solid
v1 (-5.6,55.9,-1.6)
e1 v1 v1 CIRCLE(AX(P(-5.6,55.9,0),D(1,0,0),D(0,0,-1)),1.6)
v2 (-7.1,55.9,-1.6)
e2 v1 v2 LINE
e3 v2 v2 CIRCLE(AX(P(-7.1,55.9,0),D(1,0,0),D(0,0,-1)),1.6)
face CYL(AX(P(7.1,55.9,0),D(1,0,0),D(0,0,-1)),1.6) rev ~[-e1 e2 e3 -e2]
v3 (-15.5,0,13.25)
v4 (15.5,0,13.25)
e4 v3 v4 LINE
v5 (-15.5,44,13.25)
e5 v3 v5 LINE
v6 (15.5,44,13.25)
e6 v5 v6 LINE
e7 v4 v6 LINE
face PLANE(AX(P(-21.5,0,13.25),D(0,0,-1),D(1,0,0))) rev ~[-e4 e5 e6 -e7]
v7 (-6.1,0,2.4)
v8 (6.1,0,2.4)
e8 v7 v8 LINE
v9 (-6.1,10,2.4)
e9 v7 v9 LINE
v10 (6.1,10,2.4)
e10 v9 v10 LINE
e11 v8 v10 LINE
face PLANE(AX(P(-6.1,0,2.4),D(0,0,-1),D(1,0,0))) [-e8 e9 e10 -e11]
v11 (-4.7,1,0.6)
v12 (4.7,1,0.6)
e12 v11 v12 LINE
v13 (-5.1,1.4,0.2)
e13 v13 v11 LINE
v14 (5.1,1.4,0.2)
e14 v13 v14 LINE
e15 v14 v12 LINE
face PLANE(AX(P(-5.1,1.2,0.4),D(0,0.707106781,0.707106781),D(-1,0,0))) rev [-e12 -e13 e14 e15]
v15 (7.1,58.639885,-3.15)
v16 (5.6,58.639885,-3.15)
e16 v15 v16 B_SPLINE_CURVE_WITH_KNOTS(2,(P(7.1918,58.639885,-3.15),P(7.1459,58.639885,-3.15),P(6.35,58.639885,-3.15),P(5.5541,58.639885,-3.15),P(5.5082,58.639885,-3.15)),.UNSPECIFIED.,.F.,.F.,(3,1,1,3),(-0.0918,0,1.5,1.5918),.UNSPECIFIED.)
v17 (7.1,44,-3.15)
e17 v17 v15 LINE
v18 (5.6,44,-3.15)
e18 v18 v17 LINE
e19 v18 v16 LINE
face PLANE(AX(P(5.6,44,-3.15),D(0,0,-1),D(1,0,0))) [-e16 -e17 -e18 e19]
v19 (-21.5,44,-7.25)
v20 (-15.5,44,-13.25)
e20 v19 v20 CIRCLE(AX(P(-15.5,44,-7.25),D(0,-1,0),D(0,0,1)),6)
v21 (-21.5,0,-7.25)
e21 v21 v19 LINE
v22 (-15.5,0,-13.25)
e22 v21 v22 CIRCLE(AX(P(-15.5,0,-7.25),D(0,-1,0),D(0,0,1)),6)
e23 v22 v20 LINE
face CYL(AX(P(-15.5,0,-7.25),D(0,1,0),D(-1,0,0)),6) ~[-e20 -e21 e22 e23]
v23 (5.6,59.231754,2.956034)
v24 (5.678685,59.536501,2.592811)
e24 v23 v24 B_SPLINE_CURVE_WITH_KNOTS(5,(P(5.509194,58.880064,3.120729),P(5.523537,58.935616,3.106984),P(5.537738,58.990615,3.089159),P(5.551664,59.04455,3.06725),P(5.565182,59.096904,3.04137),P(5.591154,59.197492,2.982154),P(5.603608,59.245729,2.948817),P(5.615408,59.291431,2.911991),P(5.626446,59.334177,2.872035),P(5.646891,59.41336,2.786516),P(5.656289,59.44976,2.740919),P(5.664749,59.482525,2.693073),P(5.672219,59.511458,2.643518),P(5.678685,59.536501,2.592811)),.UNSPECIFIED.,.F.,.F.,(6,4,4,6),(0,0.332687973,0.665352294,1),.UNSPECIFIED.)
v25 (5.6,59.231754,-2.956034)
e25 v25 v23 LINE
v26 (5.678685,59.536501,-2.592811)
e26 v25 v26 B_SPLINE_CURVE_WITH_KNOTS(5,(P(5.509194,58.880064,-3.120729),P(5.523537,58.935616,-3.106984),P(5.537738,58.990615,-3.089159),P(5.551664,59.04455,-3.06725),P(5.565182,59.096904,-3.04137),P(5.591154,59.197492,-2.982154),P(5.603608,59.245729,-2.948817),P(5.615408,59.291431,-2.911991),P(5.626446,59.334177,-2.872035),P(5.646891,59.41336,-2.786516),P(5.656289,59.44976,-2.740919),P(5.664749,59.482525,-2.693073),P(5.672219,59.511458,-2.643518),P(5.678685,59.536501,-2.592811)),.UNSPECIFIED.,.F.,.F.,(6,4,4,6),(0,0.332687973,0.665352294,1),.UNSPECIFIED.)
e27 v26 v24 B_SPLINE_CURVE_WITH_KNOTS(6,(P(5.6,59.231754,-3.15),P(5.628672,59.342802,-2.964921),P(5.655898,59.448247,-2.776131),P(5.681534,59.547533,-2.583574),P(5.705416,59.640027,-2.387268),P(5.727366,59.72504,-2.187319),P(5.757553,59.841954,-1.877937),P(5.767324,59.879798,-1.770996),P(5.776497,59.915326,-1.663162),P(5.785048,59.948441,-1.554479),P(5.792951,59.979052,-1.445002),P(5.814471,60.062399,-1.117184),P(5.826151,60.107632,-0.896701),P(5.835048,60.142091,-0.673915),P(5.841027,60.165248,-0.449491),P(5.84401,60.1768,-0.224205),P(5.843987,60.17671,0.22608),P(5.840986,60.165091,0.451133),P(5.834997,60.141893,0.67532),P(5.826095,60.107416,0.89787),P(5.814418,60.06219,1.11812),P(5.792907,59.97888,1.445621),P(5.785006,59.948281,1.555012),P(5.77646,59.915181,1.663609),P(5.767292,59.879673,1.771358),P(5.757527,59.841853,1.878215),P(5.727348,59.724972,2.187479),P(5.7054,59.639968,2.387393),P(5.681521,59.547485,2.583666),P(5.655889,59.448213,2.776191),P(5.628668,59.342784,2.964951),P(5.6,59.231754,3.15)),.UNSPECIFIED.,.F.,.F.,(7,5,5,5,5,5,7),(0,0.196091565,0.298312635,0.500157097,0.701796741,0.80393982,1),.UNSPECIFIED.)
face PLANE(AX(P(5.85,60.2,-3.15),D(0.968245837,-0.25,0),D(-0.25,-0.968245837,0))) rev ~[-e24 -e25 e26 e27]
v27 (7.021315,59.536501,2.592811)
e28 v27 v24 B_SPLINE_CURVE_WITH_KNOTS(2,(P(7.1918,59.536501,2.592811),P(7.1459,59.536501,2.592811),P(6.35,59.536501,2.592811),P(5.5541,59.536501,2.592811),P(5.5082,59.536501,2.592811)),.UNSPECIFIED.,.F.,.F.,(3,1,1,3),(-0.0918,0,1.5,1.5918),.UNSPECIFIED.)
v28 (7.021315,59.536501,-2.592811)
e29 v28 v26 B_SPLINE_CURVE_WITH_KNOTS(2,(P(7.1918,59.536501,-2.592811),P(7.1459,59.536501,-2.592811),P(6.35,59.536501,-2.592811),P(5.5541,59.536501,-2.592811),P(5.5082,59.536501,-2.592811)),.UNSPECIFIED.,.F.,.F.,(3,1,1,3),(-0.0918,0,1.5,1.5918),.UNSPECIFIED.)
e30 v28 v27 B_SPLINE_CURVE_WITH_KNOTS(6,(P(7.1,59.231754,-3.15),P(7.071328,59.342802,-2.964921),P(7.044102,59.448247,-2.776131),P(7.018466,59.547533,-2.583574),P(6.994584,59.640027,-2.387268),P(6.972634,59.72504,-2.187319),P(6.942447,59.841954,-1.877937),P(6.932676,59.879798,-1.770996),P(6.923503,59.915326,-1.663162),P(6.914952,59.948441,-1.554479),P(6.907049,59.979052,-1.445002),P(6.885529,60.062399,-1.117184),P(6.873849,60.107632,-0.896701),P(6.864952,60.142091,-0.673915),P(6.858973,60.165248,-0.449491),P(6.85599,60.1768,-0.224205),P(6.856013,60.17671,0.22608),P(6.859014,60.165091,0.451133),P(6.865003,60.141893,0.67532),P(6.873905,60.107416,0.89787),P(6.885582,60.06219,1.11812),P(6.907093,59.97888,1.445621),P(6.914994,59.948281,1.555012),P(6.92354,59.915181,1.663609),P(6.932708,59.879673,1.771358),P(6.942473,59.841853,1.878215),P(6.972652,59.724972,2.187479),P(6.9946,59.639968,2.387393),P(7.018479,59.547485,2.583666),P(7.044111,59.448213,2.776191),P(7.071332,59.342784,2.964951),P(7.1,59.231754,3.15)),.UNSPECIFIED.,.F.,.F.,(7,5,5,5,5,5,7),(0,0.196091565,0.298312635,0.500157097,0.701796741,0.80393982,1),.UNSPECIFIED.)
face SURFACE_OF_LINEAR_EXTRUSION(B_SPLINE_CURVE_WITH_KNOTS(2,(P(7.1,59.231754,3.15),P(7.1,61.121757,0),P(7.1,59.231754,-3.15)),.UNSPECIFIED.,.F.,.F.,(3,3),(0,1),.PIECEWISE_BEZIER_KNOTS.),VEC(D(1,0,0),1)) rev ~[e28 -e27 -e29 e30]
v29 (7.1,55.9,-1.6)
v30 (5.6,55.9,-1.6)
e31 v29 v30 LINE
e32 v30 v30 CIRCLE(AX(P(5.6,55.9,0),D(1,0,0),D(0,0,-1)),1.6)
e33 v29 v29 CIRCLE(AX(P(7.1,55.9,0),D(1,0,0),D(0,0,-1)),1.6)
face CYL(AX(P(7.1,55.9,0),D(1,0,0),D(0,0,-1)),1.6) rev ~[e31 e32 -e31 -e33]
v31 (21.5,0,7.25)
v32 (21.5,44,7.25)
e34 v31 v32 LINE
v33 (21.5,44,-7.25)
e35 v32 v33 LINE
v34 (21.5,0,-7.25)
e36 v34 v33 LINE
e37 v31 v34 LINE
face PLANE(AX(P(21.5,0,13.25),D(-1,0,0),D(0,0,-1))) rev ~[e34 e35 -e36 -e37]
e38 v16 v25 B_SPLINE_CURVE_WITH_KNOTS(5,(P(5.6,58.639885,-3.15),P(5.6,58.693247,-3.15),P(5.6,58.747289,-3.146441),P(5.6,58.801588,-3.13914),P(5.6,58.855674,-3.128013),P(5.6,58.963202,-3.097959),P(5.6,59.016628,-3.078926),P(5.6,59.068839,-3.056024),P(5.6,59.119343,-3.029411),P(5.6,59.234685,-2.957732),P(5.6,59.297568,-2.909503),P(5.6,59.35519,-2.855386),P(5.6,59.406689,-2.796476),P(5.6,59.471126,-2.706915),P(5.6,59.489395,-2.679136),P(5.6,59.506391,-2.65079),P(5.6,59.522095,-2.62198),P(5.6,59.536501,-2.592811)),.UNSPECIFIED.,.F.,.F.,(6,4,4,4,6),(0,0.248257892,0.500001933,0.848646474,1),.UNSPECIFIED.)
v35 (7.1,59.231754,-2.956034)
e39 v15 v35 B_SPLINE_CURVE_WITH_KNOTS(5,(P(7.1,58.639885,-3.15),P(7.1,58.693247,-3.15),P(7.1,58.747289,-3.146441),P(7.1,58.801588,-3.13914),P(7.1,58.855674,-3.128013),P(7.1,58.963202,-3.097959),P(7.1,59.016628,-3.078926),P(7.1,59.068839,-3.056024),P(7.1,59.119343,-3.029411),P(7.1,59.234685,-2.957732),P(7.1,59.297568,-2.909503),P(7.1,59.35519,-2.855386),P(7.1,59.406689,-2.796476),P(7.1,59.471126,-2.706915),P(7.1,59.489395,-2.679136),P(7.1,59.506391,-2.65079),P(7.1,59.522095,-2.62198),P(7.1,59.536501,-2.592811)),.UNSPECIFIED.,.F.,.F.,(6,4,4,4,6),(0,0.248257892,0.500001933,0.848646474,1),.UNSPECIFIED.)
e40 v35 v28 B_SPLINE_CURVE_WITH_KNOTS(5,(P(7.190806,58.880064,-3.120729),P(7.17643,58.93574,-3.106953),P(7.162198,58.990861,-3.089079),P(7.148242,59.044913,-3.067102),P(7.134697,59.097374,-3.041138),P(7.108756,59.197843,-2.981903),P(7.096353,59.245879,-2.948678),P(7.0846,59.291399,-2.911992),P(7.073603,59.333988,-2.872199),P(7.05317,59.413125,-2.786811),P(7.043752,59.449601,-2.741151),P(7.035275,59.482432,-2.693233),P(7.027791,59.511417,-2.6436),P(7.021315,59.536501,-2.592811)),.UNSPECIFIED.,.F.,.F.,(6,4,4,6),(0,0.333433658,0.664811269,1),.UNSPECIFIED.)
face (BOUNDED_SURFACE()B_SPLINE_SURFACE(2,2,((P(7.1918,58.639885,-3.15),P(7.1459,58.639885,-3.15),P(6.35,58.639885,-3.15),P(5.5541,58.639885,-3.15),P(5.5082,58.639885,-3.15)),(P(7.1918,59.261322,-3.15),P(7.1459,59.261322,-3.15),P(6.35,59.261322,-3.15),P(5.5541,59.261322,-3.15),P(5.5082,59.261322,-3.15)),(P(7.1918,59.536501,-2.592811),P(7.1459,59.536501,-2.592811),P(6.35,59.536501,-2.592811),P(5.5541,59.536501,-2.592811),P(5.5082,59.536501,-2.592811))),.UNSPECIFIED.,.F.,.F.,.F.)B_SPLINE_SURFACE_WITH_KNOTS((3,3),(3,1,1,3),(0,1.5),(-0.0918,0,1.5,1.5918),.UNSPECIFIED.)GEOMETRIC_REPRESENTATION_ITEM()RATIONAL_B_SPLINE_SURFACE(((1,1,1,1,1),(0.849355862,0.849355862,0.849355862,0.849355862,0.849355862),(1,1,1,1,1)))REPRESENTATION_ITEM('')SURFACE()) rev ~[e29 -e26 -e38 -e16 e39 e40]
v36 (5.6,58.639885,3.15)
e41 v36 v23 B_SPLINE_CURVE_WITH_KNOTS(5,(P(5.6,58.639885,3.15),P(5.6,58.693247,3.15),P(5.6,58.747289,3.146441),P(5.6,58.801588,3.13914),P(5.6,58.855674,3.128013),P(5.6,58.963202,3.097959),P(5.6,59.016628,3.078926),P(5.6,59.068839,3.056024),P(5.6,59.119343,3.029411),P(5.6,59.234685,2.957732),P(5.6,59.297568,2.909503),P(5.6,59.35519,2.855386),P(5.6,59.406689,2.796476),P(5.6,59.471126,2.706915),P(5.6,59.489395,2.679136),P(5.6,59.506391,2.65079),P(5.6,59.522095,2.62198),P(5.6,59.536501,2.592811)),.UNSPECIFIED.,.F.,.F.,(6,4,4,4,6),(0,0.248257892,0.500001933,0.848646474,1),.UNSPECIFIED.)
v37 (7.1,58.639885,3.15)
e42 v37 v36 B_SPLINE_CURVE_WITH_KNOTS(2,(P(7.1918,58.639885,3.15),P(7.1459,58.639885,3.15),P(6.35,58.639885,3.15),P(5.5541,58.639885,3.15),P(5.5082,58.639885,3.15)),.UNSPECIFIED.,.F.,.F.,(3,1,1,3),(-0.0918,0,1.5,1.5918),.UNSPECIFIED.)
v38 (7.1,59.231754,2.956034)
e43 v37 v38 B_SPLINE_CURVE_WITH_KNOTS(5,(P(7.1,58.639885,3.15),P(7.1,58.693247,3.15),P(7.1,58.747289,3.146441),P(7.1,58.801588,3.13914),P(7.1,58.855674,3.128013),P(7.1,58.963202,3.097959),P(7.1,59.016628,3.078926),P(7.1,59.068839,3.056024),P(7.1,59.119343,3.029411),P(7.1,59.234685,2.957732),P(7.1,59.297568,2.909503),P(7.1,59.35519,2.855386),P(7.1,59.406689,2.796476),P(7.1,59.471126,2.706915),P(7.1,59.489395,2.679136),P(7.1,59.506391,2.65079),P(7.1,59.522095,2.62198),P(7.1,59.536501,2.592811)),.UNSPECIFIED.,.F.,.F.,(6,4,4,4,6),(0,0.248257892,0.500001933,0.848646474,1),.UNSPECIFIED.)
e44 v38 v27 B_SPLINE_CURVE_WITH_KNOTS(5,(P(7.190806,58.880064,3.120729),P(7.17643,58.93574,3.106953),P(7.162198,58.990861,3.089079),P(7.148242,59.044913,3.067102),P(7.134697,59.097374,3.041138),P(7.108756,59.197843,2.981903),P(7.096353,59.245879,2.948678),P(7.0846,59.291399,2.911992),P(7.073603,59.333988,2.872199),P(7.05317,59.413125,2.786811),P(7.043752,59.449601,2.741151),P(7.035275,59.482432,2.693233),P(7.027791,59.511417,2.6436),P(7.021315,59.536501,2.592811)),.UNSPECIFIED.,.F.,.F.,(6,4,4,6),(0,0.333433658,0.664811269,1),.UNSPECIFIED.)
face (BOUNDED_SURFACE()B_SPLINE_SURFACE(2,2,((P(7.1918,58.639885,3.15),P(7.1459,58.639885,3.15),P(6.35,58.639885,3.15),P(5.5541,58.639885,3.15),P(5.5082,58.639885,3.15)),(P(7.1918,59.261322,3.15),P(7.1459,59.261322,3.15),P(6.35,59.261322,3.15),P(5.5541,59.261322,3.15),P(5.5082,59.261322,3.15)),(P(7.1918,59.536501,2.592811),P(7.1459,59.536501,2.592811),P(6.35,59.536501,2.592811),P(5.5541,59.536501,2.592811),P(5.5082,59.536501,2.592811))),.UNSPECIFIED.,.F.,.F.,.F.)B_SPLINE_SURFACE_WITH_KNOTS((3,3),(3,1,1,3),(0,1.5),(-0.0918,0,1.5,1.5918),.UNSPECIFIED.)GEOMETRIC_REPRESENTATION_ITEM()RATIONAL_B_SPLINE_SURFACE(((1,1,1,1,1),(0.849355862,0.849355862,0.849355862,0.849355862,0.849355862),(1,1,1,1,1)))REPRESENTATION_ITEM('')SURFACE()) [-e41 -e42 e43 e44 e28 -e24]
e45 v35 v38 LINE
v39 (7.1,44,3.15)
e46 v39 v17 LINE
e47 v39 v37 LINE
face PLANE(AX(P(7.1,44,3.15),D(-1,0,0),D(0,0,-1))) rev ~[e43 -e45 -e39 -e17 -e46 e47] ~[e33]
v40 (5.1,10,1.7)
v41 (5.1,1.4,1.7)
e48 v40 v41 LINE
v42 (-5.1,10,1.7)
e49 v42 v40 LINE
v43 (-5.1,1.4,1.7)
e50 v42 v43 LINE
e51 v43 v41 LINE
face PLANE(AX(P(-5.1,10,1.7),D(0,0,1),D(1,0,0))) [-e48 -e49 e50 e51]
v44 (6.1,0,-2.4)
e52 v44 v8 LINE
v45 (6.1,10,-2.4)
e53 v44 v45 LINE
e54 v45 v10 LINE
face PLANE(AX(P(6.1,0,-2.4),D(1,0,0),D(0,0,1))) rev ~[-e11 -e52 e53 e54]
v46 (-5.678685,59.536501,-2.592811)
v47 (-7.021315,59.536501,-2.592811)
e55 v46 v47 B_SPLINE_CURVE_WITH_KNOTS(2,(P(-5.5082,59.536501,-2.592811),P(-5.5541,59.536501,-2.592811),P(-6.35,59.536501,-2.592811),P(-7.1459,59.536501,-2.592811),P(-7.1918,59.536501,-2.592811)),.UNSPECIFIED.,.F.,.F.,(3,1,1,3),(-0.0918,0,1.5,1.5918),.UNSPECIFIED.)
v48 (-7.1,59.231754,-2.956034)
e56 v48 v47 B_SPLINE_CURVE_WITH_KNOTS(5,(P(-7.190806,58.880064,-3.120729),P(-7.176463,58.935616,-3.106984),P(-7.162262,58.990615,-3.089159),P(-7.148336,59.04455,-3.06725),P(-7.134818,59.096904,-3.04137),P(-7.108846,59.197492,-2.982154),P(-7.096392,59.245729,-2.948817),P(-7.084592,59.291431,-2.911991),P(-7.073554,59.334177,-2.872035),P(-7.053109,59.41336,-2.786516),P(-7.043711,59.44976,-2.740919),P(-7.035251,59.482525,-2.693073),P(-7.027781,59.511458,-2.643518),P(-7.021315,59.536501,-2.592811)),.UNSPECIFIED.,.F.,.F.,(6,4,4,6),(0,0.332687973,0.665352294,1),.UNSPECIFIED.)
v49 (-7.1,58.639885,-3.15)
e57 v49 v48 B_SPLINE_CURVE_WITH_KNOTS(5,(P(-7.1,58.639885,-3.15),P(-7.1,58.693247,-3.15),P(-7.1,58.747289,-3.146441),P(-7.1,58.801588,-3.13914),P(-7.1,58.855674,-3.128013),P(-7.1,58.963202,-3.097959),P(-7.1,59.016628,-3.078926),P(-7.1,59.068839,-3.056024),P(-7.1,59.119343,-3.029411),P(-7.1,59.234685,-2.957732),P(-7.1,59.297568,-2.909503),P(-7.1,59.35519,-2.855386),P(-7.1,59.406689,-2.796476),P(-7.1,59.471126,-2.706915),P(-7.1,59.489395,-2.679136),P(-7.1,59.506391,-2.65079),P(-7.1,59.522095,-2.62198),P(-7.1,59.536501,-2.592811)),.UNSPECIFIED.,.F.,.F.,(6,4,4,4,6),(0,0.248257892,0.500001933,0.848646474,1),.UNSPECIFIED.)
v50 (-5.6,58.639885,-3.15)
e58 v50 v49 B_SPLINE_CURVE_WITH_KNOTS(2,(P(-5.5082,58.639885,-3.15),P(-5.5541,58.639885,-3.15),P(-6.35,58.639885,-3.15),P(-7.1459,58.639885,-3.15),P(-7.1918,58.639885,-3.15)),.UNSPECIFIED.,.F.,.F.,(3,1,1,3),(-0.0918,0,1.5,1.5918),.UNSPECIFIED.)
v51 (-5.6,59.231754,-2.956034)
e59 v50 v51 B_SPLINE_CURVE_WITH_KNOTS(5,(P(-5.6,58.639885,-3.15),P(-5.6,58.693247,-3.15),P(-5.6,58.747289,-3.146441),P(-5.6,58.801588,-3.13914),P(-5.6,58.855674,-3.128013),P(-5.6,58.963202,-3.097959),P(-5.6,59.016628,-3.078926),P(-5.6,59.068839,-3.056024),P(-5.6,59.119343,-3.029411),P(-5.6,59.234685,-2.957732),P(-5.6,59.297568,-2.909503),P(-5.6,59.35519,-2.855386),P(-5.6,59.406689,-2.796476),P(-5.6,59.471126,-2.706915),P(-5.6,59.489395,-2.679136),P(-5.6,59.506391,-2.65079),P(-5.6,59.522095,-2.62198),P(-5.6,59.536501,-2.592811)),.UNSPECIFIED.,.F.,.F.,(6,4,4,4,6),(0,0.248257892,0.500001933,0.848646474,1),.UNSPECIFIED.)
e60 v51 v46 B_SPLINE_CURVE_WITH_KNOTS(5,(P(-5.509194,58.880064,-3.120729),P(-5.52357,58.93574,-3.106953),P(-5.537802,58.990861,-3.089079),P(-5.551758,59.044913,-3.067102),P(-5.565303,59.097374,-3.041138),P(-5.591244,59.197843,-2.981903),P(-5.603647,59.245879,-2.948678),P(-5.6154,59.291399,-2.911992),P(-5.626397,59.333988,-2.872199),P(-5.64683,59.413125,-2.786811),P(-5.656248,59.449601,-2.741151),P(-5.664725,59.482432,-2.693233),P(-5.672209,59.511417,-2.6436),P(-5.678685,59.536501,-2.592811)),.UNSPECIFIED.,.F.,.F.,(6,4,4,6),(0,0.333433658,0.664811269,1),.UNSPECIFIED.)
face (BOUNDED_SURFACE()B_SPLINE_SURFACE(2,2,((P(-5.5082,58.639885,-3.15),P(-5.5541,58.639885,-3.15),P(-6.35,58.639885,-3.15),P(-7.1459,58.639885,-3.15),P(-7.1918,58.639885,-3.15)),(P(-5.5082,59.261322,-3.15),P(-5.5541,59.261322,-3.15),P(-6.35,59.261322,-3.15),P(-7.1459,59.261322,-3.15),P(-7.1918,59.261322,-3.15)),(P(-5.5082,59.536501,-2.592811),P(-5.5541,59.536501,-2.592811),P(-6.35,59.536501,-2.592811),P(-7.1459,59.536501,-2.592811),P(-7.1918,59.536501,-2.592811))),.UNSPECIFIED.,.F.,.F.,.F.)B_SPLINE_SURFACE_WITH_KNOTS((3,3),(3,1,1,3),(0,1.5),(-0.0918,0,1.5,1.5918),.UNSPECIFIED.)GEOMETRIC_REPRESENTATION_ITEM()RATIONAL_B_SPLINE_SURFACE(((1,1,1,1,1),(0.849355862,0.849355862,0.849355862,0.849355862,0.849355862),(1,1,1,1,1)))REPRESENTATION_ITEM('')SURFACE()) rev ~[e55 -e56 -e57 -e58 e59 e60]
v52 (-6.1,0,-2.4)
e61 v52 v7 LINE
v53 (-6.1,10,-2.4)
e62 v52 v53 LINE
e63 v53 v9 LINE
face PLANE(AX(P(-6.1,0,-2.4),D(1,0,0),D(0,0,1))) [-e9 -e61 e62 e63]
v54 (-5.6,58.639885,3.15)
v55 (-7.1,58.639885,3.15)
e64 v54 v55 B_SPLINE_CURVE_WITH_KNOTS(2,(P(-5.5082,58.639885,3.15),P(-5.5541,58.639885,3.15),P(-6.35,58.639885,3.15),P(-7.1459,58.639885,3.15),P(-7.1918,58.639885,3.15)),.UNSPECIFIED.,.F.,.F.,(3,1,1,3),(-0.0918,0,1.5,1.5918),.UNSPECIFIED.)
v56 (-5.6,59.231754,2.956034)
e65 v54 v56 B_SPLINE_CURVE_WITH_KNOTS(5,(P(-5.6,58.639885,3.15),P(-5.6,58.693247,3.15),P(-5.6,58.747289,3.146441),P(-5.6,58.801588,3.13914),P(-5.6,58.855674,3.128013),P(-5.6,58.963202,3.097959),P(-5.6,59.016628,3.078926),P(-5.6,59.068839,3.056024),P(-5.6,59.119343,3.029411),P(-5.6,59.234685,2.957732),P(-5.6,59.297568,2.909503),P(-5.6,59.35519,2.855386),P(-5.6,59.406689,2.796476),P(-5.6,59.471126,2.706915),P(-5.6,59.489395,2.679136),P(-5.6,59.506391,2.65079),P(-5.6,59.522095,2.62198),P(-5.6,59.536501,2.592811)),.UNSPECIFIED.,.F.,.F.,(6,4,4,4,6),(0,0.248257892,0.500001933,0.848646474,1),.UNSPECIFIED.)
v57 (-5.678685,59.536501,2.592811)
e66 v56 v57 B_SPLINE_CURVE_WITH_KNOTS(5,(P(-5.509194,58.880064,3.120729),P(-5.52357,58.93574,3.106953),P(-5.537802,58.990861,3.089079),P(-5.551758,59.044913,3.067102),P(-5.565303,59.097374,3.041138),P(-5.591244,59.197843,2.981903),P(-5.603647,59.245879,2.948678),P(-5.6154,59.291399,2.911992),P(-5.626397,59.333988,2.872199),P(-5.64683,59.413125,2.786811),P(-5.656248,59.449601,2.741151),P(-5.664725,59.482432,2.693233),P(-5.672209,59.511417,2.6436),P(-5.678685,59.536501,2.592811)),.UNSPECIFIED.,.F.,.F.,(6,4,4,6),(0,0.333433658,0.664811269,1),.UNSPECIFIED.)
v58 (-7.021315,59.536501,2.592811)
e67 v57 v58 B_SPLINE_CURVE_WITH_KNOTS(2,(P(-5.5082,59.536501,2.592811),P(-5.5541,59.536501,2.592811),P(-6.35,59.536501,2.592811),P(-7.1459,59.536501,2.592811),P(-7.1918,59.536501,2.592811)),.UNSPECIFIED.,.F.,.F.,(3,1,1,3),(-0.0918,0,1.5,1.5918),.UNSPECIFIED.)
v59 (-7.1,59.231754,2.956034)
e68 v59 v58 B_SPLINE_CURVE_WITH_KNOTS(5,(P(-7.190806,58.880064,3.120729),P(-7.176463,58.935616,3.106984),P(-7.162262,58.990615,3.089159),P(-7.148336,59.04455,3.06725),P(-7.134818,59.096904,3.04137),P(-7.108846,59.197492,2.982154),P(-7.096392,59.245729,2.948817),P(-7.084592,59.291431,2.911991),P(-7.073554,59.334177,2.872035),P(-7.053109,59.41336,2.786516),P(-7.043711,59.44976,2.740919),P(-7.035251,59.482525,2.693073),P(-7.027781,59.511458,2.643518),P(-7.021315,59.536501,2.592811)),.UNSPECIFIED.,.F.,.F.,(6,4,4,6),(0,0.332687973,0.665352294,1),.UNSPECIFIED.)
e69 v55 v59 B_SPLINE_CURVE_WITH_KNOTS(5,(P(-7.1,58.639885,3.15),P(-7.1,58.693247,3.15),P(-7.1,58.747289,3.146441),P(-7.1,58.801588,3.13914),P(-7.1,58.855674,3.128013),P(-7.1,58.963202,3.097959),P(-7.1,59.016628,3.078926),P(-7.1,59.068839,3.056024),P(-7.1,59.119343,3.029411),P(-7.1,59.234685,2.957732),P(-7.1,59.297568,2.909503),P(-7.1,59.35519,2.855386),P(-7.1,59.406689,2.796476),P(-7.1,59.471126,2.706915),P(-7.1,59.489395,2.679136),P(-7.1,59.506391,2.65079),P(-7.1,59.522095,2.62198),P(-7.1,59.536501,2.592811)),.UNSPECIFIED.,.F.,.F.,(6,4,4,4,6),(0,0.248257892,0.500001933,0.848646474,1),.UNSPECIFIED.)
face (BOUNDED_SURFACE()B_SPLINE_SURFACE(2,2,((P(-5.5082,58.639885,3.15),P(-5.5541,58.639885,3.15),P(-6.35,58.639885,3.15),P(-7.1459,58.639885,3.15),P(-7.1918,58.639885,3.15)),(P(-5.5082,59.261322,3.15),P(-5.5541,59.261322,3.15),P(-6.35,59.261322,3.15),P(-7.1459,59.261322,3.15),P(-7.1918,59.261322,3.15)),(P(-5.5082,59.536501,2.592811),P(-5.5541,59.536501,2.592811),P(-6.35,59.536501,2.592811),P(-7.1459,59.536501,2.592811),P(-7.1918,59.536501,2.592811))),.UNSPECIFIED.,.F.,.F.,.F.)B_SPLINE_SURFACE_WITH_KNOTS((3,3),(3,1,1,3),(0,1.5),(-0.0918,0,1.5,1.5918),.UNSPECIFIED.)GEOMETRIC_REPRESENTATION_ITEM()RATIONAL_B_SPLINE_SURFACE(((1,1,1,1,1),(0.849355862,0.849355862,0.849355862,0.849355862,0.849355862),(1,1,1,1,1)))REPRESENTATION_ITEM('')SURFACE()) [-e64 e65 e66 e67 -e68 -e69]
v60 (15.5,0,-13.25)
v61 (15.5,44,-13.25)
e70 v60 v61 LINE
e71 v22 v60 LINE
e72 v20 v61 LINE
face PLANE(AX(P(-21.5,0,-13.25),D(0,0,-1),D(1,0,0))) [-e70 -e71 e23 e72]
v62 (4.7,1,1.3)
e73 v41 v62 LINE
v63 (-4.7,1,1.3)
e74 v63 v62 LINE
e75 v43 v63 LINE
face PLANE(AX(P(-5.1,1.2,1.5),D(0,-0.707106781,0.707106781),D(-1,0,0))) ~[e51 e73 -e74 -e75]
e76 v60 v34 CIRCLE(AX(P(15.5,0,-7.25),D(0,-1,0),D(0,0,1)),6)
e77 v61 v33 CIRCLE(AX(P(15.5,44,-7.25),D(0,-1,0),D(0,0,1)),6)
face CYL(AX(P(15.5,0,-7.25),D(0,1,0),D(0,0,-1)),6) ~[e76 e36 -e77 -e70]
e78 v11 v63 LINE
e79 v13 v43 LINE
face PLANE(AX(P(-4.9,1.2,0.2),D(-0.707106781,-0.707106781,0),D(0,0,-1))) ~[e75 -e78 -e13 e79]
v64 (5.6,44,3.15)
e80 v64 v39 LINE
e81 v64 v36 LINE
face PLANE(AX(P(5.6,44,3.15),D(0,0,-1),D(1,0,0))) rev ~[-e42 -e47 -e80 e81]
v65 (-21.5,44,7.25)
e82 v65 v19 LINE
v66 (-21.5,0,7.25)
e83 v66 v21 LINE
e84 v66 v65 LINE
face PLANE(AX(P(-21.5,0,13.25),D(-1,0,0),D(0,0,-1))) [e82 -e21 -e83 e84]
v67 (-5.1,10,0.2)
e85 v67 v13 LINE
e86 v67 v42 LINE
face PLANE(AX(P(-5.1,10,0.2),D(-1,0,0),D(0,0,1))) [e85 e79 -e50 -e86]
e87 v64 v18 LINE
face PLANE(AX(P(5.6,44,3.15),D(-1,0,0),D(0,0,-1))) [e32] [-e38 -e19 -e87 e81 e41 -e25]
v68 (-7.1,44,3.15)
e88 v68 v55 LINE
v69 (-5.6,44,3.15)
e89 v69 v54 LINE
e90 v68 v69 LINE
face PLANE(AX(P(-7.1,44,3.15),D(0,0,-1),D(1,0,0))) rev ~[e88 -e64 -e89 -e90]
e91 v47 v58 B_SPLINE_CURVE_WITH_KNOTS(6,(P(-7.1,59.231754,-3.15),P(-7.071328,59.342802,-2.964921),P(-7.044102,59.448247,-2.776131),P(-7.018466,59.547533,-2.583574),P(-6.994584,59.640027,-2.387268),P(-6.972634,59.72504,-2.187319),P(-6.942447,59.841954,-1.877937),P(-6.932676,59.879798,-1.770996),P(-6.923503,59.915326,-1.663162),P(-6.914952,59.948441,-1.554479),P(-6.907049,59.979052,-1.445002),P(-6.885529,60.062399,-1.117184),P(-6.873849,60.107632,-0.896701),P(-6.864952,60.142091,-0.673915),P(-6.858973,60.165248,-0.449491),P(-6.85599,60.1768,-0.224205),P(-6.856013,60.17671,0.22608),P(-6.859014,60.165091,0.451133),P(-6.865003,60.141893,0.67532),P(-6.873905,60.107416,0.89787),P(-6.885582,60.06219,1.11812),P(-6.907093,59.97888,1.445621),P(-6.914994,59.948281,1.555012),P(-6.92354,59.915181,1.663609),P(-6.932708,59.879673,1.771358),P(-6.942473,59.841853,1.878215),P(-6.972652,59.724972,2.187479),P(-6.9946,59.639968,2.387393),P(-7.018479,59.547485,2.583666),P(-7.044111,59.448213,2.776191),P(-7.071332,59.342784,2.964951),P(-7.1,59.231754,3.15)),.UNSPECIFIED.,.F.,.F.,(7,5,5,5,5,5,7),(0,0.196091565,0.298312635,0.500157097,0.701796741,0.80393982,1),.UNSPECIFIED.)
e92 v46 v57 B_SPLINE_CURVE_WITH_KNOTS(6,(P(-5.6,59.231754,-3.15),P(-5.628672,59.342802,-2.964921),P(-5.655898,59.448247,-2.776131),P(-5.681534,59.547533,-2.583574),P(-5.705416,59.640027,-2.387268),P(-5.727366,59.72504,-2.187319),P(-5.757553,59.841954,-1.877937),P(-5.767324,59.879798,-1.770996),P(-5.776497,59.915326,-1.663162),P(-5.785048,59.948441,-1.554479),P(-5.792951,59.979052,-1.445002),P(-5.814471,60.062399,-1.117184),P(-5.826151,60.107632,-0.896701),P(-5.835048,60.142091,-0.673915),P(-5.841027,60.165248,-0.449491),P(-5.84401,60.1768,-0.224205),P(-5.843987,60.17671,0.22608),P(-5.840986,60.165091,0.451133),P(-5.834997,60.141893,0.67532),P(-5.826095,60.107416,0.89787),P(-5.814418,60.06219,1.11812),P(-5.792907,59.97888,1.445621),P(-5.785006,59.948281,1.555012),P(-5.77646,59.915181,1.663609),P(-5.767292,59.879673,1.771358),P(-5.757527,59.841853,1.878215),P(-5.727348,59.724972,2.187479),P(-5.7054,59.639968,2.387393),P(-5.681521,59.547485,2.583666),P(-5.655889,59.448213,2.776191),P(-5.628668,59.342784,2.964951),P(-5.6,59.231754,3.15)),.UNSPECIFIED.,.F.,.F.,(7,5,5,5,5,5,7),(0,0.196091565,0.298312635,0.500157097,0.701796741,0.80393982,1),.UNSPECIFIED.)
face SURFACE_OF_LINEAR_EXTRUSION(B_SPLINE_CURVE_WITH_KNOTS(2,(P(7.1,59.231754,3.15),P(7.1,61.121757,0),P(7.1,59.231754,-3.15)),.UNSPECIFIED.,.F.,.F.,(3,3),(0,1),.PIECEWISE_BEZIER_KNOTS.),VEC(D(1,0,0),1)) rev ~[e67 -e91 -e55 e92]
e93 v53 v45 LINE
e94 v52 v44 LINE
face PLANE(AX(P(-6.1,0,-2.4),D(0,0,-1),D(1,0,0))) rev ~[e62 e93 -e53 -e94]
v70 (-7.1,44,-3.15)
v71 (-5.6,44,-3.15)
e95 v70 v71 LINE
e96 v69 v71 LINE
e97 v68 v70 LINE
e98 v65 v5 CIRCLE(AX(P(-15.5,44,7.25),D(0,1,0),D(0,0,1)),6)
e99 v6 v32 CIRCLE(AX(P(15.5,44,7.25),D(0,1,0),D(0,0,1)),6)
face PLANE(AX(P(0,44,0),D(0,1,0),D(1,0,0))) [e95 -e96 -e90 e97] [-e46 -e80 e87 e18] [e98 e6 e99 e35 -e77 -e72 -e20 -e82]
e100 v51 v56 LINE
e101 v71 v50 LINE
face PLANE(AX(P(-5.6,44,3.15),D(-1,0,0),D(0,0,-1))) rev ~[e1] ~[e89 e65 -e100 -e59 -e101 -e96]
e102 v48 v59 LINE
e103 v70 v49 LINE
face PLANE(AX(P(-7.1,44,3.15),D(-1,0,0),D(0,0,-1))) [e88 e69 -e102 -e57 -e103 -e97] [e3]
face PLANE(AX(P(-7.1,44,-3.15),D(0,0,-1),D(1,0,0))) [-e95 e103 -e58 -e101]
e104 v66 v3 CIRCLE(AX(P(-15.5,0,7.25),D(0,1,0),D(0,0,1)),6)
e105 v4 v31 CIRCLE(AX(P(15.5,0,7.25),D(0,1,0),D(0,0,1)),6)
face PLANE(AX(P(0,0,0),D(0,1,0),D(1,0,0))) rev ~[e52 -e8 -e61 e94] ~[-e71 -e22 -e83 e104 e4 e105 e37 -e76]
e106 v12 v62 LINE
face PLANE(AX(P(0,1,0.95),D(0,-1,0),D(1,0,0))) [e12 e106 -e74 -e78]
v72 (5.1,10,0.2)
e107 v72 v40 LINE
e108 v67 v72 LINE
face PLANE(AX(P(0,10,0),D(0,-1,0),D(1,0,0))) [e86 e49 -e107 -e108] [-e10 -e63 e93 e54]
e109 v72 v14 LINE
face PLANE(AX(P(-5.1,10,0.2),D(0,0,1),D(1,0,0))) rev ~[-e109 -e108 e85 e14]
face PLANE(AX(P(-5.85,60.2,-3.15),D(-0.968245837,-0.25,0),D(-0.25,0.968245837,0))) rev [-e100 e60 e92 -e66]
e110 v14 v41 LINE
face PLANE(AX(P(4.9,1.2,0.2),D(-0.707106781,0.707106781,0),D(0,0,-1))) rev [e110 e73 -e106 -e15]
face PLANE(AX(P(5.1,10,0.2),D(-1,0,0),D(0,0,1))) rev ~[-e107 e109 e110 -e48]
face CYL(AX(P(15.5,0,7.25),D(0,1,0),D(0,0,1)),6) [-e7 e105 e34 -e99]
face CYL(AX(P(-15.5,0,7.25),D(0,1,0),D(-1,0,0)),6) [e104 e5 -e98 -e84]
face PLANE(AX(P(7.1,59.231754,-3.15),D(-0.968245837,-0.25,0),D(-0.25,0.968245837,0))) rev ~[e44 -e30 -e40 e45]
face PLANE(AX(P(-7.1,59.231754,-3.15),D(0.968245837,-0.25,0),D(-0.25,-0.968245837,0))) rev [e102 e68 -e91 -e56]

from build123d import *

# Parameters (mm, degrees)
SKETCH2_W           = 43
SKETCH2_H           = 26.5
BOSS_EXTRUDE1_DEPTH = 44
SKETCH3_W           = 12.2
SKETCH3_H           = 4.8
CUT_EXTRUDE1_DEPTH  = 10
SKETCH4_W           = 1.5
SKETCH4_H           = 6.3
BOSS_EXTRUDE2_DEPTH = 16.2
SKETCH5_R           = 1.6
CUT_EXTRUDE2_DEPTH  = 16.2
CUT_EXTRUDE3_DEPTH  = 16.2
CUT_EXTRUDE4_DEPTH  = 16.2
FILLET1_R           = 1
FILLET2_R           = 6
SKETCH8_W           = 10.2
SKETCH8_H           = 1.5
BOSS_EXTRUDE3_DEPTH = 9
CHAMFER1_SIZE       = 0.4


with BuildPart() as part:
    # Sketch2 → Boss-Extrude1 (new body)
    with BuildSketch(Plane(origin=(0, 0, 0), x_dir=(1, 0, 0), z_dir=(0, 1, 0))):
        Rectangle(SKETCH2_W, SKETCH2_H)
    extrude(amount=BOSS_EXTRUDE1_DEPTH)

    # Sketch3 → Cut-Extrude1 (cut)
    with BuildSketch(Plane.XZ):
        Rectangle(SKETCH3_W, SKETCH3_H)
    extrude(amount=-CUT_EXTRUDE1_DEPTH, mode=Mode.SUBTRACT)

    # Sketch4 → Boss-Extrude2 (add)
    with BuildSketch(Plane(origin=(0, 44, 0), x_dir=(1, 0, 0), z_dir=(0, 1, 0))):
        with Locations((-6.35, 0)):
            Rectangle(SKETCH4_W, SKETCH4_H)
        with Locations((6.35, 0)):
            Rectangle(SKETCH4_W, SKETCH4_H)
    extrude(amount=BOSS_EXTRUDE2_DEPTH)

    # Sketch5 → Cut-Extrude2 (cut)
    with BuildSketch(Plane(origin=(7.1, 0, 0), x_dir=(0, 0, -1), z_dir=(1, 0, 0))):
        with Locations((0, 55.9)):
            Circle(SKETCH5_R)
    extrude(amount=-CUT_EXTRUDE2_DEPTH, mode=Mode.SUBTRACT)

    # Sketch6 → Cut-Extrude3 (cut)
    with BuildSketch(Plane(origin=(0, 0, -3.15), x_dir=(-1, 0, 0), z_dir=(0, 0, -1))):
        Polygon((-6.85, 60.2), (-5.85, 60.2), (-5.6, 59.231754163), (-5.6, 60.384988015), (-7.1, 60.384988015), (-7.1, 59.231754163), align=None)
    cut_extrude3 = extrude(amount=-CUT_EXTRUDE3_DEPTH, mode=Mode.SUBTRACT)

    # Mirror1: Cut-Extrude3 across plane
    add(cut_extrude3.mirror(Plane(origin=(0, 0, 0), x_dir=(0, 0, 1), z_dir=(1, 0, 0))), mode=Mode.SUBTRACT)

    # Sketch7 → Cut-Extrude4 (cut)
    with BuildSketch(Plane(origin=(7.1, 0, 0), x_dir=(0, 0, -1), z_dir=(1, 0, 0))):
        with BuildLine():
            Line((-3.15, 59.231754163), (-3.15, 61.207063701))
            Line((-3.15, 61.207063701), (3.15, 61.207063701))
            Line((3.15, 61.207063701), (3.15, 59.231754163))
            add(Edge.make_bspline(
                [(-3.15, 59.231754163), (0, 61.121756778), (3.15, 59.231754163)],
                knots=[0, 0, 0, 1, 1, 1], degree=2))
        make_face()
    extrude(amount=-CUT_EXTRUDE4_DEPTH, mode=Mode.SUBTRACT)

    # Fillet1
    fillet1_edges = [part.edges().sort_by_distance(p)[0] for p in [
        (6.35, 59.231754163, -3.15),
        (-6.35, 59.231754163, -3.15),
        (-6.35, 59.231754163, 3.15),
        (6.35, 59.231754163, 3.15),
    ]]
    fillet(fillet1_edges, radius=FILLET1_R)

    # Fillet2
    fillet2_edges = [part.edges().sort_by_distance(p)[0] for p in [
        (21.5, 22, 13.25),
        (-21.5, 22, 13.25),
        (-21.5, 22, -13.25),
        (21.5, 22, -13.25),
    ]]
    fillet(fillet2_edges, radius=FILLET2_R)

    # Sketch8 → Boss-Extrude3 (add)
    with BuildSketch(Plane.XZ.offset(-10)):
        with Locations((0, 0.95)):
            Rectangle(SKETCH8_W, SKETCH8_H)
    extrude(amount=BOSS_EXTRUDE3_DEPTH)

    # Chamfer1
    chamfer1_edges = [part.edges().sort_by_distance(p)[0] for p in [
        (0, 1, 1.7),
        (-5.1, 1, 0.95),
        (0, 1, 0.2),
        (5.1, 1, 0.95),
    ]]
    chamfer(chamfer1_edges, length=CHAMFER1_SIZE)


solid = part.part
